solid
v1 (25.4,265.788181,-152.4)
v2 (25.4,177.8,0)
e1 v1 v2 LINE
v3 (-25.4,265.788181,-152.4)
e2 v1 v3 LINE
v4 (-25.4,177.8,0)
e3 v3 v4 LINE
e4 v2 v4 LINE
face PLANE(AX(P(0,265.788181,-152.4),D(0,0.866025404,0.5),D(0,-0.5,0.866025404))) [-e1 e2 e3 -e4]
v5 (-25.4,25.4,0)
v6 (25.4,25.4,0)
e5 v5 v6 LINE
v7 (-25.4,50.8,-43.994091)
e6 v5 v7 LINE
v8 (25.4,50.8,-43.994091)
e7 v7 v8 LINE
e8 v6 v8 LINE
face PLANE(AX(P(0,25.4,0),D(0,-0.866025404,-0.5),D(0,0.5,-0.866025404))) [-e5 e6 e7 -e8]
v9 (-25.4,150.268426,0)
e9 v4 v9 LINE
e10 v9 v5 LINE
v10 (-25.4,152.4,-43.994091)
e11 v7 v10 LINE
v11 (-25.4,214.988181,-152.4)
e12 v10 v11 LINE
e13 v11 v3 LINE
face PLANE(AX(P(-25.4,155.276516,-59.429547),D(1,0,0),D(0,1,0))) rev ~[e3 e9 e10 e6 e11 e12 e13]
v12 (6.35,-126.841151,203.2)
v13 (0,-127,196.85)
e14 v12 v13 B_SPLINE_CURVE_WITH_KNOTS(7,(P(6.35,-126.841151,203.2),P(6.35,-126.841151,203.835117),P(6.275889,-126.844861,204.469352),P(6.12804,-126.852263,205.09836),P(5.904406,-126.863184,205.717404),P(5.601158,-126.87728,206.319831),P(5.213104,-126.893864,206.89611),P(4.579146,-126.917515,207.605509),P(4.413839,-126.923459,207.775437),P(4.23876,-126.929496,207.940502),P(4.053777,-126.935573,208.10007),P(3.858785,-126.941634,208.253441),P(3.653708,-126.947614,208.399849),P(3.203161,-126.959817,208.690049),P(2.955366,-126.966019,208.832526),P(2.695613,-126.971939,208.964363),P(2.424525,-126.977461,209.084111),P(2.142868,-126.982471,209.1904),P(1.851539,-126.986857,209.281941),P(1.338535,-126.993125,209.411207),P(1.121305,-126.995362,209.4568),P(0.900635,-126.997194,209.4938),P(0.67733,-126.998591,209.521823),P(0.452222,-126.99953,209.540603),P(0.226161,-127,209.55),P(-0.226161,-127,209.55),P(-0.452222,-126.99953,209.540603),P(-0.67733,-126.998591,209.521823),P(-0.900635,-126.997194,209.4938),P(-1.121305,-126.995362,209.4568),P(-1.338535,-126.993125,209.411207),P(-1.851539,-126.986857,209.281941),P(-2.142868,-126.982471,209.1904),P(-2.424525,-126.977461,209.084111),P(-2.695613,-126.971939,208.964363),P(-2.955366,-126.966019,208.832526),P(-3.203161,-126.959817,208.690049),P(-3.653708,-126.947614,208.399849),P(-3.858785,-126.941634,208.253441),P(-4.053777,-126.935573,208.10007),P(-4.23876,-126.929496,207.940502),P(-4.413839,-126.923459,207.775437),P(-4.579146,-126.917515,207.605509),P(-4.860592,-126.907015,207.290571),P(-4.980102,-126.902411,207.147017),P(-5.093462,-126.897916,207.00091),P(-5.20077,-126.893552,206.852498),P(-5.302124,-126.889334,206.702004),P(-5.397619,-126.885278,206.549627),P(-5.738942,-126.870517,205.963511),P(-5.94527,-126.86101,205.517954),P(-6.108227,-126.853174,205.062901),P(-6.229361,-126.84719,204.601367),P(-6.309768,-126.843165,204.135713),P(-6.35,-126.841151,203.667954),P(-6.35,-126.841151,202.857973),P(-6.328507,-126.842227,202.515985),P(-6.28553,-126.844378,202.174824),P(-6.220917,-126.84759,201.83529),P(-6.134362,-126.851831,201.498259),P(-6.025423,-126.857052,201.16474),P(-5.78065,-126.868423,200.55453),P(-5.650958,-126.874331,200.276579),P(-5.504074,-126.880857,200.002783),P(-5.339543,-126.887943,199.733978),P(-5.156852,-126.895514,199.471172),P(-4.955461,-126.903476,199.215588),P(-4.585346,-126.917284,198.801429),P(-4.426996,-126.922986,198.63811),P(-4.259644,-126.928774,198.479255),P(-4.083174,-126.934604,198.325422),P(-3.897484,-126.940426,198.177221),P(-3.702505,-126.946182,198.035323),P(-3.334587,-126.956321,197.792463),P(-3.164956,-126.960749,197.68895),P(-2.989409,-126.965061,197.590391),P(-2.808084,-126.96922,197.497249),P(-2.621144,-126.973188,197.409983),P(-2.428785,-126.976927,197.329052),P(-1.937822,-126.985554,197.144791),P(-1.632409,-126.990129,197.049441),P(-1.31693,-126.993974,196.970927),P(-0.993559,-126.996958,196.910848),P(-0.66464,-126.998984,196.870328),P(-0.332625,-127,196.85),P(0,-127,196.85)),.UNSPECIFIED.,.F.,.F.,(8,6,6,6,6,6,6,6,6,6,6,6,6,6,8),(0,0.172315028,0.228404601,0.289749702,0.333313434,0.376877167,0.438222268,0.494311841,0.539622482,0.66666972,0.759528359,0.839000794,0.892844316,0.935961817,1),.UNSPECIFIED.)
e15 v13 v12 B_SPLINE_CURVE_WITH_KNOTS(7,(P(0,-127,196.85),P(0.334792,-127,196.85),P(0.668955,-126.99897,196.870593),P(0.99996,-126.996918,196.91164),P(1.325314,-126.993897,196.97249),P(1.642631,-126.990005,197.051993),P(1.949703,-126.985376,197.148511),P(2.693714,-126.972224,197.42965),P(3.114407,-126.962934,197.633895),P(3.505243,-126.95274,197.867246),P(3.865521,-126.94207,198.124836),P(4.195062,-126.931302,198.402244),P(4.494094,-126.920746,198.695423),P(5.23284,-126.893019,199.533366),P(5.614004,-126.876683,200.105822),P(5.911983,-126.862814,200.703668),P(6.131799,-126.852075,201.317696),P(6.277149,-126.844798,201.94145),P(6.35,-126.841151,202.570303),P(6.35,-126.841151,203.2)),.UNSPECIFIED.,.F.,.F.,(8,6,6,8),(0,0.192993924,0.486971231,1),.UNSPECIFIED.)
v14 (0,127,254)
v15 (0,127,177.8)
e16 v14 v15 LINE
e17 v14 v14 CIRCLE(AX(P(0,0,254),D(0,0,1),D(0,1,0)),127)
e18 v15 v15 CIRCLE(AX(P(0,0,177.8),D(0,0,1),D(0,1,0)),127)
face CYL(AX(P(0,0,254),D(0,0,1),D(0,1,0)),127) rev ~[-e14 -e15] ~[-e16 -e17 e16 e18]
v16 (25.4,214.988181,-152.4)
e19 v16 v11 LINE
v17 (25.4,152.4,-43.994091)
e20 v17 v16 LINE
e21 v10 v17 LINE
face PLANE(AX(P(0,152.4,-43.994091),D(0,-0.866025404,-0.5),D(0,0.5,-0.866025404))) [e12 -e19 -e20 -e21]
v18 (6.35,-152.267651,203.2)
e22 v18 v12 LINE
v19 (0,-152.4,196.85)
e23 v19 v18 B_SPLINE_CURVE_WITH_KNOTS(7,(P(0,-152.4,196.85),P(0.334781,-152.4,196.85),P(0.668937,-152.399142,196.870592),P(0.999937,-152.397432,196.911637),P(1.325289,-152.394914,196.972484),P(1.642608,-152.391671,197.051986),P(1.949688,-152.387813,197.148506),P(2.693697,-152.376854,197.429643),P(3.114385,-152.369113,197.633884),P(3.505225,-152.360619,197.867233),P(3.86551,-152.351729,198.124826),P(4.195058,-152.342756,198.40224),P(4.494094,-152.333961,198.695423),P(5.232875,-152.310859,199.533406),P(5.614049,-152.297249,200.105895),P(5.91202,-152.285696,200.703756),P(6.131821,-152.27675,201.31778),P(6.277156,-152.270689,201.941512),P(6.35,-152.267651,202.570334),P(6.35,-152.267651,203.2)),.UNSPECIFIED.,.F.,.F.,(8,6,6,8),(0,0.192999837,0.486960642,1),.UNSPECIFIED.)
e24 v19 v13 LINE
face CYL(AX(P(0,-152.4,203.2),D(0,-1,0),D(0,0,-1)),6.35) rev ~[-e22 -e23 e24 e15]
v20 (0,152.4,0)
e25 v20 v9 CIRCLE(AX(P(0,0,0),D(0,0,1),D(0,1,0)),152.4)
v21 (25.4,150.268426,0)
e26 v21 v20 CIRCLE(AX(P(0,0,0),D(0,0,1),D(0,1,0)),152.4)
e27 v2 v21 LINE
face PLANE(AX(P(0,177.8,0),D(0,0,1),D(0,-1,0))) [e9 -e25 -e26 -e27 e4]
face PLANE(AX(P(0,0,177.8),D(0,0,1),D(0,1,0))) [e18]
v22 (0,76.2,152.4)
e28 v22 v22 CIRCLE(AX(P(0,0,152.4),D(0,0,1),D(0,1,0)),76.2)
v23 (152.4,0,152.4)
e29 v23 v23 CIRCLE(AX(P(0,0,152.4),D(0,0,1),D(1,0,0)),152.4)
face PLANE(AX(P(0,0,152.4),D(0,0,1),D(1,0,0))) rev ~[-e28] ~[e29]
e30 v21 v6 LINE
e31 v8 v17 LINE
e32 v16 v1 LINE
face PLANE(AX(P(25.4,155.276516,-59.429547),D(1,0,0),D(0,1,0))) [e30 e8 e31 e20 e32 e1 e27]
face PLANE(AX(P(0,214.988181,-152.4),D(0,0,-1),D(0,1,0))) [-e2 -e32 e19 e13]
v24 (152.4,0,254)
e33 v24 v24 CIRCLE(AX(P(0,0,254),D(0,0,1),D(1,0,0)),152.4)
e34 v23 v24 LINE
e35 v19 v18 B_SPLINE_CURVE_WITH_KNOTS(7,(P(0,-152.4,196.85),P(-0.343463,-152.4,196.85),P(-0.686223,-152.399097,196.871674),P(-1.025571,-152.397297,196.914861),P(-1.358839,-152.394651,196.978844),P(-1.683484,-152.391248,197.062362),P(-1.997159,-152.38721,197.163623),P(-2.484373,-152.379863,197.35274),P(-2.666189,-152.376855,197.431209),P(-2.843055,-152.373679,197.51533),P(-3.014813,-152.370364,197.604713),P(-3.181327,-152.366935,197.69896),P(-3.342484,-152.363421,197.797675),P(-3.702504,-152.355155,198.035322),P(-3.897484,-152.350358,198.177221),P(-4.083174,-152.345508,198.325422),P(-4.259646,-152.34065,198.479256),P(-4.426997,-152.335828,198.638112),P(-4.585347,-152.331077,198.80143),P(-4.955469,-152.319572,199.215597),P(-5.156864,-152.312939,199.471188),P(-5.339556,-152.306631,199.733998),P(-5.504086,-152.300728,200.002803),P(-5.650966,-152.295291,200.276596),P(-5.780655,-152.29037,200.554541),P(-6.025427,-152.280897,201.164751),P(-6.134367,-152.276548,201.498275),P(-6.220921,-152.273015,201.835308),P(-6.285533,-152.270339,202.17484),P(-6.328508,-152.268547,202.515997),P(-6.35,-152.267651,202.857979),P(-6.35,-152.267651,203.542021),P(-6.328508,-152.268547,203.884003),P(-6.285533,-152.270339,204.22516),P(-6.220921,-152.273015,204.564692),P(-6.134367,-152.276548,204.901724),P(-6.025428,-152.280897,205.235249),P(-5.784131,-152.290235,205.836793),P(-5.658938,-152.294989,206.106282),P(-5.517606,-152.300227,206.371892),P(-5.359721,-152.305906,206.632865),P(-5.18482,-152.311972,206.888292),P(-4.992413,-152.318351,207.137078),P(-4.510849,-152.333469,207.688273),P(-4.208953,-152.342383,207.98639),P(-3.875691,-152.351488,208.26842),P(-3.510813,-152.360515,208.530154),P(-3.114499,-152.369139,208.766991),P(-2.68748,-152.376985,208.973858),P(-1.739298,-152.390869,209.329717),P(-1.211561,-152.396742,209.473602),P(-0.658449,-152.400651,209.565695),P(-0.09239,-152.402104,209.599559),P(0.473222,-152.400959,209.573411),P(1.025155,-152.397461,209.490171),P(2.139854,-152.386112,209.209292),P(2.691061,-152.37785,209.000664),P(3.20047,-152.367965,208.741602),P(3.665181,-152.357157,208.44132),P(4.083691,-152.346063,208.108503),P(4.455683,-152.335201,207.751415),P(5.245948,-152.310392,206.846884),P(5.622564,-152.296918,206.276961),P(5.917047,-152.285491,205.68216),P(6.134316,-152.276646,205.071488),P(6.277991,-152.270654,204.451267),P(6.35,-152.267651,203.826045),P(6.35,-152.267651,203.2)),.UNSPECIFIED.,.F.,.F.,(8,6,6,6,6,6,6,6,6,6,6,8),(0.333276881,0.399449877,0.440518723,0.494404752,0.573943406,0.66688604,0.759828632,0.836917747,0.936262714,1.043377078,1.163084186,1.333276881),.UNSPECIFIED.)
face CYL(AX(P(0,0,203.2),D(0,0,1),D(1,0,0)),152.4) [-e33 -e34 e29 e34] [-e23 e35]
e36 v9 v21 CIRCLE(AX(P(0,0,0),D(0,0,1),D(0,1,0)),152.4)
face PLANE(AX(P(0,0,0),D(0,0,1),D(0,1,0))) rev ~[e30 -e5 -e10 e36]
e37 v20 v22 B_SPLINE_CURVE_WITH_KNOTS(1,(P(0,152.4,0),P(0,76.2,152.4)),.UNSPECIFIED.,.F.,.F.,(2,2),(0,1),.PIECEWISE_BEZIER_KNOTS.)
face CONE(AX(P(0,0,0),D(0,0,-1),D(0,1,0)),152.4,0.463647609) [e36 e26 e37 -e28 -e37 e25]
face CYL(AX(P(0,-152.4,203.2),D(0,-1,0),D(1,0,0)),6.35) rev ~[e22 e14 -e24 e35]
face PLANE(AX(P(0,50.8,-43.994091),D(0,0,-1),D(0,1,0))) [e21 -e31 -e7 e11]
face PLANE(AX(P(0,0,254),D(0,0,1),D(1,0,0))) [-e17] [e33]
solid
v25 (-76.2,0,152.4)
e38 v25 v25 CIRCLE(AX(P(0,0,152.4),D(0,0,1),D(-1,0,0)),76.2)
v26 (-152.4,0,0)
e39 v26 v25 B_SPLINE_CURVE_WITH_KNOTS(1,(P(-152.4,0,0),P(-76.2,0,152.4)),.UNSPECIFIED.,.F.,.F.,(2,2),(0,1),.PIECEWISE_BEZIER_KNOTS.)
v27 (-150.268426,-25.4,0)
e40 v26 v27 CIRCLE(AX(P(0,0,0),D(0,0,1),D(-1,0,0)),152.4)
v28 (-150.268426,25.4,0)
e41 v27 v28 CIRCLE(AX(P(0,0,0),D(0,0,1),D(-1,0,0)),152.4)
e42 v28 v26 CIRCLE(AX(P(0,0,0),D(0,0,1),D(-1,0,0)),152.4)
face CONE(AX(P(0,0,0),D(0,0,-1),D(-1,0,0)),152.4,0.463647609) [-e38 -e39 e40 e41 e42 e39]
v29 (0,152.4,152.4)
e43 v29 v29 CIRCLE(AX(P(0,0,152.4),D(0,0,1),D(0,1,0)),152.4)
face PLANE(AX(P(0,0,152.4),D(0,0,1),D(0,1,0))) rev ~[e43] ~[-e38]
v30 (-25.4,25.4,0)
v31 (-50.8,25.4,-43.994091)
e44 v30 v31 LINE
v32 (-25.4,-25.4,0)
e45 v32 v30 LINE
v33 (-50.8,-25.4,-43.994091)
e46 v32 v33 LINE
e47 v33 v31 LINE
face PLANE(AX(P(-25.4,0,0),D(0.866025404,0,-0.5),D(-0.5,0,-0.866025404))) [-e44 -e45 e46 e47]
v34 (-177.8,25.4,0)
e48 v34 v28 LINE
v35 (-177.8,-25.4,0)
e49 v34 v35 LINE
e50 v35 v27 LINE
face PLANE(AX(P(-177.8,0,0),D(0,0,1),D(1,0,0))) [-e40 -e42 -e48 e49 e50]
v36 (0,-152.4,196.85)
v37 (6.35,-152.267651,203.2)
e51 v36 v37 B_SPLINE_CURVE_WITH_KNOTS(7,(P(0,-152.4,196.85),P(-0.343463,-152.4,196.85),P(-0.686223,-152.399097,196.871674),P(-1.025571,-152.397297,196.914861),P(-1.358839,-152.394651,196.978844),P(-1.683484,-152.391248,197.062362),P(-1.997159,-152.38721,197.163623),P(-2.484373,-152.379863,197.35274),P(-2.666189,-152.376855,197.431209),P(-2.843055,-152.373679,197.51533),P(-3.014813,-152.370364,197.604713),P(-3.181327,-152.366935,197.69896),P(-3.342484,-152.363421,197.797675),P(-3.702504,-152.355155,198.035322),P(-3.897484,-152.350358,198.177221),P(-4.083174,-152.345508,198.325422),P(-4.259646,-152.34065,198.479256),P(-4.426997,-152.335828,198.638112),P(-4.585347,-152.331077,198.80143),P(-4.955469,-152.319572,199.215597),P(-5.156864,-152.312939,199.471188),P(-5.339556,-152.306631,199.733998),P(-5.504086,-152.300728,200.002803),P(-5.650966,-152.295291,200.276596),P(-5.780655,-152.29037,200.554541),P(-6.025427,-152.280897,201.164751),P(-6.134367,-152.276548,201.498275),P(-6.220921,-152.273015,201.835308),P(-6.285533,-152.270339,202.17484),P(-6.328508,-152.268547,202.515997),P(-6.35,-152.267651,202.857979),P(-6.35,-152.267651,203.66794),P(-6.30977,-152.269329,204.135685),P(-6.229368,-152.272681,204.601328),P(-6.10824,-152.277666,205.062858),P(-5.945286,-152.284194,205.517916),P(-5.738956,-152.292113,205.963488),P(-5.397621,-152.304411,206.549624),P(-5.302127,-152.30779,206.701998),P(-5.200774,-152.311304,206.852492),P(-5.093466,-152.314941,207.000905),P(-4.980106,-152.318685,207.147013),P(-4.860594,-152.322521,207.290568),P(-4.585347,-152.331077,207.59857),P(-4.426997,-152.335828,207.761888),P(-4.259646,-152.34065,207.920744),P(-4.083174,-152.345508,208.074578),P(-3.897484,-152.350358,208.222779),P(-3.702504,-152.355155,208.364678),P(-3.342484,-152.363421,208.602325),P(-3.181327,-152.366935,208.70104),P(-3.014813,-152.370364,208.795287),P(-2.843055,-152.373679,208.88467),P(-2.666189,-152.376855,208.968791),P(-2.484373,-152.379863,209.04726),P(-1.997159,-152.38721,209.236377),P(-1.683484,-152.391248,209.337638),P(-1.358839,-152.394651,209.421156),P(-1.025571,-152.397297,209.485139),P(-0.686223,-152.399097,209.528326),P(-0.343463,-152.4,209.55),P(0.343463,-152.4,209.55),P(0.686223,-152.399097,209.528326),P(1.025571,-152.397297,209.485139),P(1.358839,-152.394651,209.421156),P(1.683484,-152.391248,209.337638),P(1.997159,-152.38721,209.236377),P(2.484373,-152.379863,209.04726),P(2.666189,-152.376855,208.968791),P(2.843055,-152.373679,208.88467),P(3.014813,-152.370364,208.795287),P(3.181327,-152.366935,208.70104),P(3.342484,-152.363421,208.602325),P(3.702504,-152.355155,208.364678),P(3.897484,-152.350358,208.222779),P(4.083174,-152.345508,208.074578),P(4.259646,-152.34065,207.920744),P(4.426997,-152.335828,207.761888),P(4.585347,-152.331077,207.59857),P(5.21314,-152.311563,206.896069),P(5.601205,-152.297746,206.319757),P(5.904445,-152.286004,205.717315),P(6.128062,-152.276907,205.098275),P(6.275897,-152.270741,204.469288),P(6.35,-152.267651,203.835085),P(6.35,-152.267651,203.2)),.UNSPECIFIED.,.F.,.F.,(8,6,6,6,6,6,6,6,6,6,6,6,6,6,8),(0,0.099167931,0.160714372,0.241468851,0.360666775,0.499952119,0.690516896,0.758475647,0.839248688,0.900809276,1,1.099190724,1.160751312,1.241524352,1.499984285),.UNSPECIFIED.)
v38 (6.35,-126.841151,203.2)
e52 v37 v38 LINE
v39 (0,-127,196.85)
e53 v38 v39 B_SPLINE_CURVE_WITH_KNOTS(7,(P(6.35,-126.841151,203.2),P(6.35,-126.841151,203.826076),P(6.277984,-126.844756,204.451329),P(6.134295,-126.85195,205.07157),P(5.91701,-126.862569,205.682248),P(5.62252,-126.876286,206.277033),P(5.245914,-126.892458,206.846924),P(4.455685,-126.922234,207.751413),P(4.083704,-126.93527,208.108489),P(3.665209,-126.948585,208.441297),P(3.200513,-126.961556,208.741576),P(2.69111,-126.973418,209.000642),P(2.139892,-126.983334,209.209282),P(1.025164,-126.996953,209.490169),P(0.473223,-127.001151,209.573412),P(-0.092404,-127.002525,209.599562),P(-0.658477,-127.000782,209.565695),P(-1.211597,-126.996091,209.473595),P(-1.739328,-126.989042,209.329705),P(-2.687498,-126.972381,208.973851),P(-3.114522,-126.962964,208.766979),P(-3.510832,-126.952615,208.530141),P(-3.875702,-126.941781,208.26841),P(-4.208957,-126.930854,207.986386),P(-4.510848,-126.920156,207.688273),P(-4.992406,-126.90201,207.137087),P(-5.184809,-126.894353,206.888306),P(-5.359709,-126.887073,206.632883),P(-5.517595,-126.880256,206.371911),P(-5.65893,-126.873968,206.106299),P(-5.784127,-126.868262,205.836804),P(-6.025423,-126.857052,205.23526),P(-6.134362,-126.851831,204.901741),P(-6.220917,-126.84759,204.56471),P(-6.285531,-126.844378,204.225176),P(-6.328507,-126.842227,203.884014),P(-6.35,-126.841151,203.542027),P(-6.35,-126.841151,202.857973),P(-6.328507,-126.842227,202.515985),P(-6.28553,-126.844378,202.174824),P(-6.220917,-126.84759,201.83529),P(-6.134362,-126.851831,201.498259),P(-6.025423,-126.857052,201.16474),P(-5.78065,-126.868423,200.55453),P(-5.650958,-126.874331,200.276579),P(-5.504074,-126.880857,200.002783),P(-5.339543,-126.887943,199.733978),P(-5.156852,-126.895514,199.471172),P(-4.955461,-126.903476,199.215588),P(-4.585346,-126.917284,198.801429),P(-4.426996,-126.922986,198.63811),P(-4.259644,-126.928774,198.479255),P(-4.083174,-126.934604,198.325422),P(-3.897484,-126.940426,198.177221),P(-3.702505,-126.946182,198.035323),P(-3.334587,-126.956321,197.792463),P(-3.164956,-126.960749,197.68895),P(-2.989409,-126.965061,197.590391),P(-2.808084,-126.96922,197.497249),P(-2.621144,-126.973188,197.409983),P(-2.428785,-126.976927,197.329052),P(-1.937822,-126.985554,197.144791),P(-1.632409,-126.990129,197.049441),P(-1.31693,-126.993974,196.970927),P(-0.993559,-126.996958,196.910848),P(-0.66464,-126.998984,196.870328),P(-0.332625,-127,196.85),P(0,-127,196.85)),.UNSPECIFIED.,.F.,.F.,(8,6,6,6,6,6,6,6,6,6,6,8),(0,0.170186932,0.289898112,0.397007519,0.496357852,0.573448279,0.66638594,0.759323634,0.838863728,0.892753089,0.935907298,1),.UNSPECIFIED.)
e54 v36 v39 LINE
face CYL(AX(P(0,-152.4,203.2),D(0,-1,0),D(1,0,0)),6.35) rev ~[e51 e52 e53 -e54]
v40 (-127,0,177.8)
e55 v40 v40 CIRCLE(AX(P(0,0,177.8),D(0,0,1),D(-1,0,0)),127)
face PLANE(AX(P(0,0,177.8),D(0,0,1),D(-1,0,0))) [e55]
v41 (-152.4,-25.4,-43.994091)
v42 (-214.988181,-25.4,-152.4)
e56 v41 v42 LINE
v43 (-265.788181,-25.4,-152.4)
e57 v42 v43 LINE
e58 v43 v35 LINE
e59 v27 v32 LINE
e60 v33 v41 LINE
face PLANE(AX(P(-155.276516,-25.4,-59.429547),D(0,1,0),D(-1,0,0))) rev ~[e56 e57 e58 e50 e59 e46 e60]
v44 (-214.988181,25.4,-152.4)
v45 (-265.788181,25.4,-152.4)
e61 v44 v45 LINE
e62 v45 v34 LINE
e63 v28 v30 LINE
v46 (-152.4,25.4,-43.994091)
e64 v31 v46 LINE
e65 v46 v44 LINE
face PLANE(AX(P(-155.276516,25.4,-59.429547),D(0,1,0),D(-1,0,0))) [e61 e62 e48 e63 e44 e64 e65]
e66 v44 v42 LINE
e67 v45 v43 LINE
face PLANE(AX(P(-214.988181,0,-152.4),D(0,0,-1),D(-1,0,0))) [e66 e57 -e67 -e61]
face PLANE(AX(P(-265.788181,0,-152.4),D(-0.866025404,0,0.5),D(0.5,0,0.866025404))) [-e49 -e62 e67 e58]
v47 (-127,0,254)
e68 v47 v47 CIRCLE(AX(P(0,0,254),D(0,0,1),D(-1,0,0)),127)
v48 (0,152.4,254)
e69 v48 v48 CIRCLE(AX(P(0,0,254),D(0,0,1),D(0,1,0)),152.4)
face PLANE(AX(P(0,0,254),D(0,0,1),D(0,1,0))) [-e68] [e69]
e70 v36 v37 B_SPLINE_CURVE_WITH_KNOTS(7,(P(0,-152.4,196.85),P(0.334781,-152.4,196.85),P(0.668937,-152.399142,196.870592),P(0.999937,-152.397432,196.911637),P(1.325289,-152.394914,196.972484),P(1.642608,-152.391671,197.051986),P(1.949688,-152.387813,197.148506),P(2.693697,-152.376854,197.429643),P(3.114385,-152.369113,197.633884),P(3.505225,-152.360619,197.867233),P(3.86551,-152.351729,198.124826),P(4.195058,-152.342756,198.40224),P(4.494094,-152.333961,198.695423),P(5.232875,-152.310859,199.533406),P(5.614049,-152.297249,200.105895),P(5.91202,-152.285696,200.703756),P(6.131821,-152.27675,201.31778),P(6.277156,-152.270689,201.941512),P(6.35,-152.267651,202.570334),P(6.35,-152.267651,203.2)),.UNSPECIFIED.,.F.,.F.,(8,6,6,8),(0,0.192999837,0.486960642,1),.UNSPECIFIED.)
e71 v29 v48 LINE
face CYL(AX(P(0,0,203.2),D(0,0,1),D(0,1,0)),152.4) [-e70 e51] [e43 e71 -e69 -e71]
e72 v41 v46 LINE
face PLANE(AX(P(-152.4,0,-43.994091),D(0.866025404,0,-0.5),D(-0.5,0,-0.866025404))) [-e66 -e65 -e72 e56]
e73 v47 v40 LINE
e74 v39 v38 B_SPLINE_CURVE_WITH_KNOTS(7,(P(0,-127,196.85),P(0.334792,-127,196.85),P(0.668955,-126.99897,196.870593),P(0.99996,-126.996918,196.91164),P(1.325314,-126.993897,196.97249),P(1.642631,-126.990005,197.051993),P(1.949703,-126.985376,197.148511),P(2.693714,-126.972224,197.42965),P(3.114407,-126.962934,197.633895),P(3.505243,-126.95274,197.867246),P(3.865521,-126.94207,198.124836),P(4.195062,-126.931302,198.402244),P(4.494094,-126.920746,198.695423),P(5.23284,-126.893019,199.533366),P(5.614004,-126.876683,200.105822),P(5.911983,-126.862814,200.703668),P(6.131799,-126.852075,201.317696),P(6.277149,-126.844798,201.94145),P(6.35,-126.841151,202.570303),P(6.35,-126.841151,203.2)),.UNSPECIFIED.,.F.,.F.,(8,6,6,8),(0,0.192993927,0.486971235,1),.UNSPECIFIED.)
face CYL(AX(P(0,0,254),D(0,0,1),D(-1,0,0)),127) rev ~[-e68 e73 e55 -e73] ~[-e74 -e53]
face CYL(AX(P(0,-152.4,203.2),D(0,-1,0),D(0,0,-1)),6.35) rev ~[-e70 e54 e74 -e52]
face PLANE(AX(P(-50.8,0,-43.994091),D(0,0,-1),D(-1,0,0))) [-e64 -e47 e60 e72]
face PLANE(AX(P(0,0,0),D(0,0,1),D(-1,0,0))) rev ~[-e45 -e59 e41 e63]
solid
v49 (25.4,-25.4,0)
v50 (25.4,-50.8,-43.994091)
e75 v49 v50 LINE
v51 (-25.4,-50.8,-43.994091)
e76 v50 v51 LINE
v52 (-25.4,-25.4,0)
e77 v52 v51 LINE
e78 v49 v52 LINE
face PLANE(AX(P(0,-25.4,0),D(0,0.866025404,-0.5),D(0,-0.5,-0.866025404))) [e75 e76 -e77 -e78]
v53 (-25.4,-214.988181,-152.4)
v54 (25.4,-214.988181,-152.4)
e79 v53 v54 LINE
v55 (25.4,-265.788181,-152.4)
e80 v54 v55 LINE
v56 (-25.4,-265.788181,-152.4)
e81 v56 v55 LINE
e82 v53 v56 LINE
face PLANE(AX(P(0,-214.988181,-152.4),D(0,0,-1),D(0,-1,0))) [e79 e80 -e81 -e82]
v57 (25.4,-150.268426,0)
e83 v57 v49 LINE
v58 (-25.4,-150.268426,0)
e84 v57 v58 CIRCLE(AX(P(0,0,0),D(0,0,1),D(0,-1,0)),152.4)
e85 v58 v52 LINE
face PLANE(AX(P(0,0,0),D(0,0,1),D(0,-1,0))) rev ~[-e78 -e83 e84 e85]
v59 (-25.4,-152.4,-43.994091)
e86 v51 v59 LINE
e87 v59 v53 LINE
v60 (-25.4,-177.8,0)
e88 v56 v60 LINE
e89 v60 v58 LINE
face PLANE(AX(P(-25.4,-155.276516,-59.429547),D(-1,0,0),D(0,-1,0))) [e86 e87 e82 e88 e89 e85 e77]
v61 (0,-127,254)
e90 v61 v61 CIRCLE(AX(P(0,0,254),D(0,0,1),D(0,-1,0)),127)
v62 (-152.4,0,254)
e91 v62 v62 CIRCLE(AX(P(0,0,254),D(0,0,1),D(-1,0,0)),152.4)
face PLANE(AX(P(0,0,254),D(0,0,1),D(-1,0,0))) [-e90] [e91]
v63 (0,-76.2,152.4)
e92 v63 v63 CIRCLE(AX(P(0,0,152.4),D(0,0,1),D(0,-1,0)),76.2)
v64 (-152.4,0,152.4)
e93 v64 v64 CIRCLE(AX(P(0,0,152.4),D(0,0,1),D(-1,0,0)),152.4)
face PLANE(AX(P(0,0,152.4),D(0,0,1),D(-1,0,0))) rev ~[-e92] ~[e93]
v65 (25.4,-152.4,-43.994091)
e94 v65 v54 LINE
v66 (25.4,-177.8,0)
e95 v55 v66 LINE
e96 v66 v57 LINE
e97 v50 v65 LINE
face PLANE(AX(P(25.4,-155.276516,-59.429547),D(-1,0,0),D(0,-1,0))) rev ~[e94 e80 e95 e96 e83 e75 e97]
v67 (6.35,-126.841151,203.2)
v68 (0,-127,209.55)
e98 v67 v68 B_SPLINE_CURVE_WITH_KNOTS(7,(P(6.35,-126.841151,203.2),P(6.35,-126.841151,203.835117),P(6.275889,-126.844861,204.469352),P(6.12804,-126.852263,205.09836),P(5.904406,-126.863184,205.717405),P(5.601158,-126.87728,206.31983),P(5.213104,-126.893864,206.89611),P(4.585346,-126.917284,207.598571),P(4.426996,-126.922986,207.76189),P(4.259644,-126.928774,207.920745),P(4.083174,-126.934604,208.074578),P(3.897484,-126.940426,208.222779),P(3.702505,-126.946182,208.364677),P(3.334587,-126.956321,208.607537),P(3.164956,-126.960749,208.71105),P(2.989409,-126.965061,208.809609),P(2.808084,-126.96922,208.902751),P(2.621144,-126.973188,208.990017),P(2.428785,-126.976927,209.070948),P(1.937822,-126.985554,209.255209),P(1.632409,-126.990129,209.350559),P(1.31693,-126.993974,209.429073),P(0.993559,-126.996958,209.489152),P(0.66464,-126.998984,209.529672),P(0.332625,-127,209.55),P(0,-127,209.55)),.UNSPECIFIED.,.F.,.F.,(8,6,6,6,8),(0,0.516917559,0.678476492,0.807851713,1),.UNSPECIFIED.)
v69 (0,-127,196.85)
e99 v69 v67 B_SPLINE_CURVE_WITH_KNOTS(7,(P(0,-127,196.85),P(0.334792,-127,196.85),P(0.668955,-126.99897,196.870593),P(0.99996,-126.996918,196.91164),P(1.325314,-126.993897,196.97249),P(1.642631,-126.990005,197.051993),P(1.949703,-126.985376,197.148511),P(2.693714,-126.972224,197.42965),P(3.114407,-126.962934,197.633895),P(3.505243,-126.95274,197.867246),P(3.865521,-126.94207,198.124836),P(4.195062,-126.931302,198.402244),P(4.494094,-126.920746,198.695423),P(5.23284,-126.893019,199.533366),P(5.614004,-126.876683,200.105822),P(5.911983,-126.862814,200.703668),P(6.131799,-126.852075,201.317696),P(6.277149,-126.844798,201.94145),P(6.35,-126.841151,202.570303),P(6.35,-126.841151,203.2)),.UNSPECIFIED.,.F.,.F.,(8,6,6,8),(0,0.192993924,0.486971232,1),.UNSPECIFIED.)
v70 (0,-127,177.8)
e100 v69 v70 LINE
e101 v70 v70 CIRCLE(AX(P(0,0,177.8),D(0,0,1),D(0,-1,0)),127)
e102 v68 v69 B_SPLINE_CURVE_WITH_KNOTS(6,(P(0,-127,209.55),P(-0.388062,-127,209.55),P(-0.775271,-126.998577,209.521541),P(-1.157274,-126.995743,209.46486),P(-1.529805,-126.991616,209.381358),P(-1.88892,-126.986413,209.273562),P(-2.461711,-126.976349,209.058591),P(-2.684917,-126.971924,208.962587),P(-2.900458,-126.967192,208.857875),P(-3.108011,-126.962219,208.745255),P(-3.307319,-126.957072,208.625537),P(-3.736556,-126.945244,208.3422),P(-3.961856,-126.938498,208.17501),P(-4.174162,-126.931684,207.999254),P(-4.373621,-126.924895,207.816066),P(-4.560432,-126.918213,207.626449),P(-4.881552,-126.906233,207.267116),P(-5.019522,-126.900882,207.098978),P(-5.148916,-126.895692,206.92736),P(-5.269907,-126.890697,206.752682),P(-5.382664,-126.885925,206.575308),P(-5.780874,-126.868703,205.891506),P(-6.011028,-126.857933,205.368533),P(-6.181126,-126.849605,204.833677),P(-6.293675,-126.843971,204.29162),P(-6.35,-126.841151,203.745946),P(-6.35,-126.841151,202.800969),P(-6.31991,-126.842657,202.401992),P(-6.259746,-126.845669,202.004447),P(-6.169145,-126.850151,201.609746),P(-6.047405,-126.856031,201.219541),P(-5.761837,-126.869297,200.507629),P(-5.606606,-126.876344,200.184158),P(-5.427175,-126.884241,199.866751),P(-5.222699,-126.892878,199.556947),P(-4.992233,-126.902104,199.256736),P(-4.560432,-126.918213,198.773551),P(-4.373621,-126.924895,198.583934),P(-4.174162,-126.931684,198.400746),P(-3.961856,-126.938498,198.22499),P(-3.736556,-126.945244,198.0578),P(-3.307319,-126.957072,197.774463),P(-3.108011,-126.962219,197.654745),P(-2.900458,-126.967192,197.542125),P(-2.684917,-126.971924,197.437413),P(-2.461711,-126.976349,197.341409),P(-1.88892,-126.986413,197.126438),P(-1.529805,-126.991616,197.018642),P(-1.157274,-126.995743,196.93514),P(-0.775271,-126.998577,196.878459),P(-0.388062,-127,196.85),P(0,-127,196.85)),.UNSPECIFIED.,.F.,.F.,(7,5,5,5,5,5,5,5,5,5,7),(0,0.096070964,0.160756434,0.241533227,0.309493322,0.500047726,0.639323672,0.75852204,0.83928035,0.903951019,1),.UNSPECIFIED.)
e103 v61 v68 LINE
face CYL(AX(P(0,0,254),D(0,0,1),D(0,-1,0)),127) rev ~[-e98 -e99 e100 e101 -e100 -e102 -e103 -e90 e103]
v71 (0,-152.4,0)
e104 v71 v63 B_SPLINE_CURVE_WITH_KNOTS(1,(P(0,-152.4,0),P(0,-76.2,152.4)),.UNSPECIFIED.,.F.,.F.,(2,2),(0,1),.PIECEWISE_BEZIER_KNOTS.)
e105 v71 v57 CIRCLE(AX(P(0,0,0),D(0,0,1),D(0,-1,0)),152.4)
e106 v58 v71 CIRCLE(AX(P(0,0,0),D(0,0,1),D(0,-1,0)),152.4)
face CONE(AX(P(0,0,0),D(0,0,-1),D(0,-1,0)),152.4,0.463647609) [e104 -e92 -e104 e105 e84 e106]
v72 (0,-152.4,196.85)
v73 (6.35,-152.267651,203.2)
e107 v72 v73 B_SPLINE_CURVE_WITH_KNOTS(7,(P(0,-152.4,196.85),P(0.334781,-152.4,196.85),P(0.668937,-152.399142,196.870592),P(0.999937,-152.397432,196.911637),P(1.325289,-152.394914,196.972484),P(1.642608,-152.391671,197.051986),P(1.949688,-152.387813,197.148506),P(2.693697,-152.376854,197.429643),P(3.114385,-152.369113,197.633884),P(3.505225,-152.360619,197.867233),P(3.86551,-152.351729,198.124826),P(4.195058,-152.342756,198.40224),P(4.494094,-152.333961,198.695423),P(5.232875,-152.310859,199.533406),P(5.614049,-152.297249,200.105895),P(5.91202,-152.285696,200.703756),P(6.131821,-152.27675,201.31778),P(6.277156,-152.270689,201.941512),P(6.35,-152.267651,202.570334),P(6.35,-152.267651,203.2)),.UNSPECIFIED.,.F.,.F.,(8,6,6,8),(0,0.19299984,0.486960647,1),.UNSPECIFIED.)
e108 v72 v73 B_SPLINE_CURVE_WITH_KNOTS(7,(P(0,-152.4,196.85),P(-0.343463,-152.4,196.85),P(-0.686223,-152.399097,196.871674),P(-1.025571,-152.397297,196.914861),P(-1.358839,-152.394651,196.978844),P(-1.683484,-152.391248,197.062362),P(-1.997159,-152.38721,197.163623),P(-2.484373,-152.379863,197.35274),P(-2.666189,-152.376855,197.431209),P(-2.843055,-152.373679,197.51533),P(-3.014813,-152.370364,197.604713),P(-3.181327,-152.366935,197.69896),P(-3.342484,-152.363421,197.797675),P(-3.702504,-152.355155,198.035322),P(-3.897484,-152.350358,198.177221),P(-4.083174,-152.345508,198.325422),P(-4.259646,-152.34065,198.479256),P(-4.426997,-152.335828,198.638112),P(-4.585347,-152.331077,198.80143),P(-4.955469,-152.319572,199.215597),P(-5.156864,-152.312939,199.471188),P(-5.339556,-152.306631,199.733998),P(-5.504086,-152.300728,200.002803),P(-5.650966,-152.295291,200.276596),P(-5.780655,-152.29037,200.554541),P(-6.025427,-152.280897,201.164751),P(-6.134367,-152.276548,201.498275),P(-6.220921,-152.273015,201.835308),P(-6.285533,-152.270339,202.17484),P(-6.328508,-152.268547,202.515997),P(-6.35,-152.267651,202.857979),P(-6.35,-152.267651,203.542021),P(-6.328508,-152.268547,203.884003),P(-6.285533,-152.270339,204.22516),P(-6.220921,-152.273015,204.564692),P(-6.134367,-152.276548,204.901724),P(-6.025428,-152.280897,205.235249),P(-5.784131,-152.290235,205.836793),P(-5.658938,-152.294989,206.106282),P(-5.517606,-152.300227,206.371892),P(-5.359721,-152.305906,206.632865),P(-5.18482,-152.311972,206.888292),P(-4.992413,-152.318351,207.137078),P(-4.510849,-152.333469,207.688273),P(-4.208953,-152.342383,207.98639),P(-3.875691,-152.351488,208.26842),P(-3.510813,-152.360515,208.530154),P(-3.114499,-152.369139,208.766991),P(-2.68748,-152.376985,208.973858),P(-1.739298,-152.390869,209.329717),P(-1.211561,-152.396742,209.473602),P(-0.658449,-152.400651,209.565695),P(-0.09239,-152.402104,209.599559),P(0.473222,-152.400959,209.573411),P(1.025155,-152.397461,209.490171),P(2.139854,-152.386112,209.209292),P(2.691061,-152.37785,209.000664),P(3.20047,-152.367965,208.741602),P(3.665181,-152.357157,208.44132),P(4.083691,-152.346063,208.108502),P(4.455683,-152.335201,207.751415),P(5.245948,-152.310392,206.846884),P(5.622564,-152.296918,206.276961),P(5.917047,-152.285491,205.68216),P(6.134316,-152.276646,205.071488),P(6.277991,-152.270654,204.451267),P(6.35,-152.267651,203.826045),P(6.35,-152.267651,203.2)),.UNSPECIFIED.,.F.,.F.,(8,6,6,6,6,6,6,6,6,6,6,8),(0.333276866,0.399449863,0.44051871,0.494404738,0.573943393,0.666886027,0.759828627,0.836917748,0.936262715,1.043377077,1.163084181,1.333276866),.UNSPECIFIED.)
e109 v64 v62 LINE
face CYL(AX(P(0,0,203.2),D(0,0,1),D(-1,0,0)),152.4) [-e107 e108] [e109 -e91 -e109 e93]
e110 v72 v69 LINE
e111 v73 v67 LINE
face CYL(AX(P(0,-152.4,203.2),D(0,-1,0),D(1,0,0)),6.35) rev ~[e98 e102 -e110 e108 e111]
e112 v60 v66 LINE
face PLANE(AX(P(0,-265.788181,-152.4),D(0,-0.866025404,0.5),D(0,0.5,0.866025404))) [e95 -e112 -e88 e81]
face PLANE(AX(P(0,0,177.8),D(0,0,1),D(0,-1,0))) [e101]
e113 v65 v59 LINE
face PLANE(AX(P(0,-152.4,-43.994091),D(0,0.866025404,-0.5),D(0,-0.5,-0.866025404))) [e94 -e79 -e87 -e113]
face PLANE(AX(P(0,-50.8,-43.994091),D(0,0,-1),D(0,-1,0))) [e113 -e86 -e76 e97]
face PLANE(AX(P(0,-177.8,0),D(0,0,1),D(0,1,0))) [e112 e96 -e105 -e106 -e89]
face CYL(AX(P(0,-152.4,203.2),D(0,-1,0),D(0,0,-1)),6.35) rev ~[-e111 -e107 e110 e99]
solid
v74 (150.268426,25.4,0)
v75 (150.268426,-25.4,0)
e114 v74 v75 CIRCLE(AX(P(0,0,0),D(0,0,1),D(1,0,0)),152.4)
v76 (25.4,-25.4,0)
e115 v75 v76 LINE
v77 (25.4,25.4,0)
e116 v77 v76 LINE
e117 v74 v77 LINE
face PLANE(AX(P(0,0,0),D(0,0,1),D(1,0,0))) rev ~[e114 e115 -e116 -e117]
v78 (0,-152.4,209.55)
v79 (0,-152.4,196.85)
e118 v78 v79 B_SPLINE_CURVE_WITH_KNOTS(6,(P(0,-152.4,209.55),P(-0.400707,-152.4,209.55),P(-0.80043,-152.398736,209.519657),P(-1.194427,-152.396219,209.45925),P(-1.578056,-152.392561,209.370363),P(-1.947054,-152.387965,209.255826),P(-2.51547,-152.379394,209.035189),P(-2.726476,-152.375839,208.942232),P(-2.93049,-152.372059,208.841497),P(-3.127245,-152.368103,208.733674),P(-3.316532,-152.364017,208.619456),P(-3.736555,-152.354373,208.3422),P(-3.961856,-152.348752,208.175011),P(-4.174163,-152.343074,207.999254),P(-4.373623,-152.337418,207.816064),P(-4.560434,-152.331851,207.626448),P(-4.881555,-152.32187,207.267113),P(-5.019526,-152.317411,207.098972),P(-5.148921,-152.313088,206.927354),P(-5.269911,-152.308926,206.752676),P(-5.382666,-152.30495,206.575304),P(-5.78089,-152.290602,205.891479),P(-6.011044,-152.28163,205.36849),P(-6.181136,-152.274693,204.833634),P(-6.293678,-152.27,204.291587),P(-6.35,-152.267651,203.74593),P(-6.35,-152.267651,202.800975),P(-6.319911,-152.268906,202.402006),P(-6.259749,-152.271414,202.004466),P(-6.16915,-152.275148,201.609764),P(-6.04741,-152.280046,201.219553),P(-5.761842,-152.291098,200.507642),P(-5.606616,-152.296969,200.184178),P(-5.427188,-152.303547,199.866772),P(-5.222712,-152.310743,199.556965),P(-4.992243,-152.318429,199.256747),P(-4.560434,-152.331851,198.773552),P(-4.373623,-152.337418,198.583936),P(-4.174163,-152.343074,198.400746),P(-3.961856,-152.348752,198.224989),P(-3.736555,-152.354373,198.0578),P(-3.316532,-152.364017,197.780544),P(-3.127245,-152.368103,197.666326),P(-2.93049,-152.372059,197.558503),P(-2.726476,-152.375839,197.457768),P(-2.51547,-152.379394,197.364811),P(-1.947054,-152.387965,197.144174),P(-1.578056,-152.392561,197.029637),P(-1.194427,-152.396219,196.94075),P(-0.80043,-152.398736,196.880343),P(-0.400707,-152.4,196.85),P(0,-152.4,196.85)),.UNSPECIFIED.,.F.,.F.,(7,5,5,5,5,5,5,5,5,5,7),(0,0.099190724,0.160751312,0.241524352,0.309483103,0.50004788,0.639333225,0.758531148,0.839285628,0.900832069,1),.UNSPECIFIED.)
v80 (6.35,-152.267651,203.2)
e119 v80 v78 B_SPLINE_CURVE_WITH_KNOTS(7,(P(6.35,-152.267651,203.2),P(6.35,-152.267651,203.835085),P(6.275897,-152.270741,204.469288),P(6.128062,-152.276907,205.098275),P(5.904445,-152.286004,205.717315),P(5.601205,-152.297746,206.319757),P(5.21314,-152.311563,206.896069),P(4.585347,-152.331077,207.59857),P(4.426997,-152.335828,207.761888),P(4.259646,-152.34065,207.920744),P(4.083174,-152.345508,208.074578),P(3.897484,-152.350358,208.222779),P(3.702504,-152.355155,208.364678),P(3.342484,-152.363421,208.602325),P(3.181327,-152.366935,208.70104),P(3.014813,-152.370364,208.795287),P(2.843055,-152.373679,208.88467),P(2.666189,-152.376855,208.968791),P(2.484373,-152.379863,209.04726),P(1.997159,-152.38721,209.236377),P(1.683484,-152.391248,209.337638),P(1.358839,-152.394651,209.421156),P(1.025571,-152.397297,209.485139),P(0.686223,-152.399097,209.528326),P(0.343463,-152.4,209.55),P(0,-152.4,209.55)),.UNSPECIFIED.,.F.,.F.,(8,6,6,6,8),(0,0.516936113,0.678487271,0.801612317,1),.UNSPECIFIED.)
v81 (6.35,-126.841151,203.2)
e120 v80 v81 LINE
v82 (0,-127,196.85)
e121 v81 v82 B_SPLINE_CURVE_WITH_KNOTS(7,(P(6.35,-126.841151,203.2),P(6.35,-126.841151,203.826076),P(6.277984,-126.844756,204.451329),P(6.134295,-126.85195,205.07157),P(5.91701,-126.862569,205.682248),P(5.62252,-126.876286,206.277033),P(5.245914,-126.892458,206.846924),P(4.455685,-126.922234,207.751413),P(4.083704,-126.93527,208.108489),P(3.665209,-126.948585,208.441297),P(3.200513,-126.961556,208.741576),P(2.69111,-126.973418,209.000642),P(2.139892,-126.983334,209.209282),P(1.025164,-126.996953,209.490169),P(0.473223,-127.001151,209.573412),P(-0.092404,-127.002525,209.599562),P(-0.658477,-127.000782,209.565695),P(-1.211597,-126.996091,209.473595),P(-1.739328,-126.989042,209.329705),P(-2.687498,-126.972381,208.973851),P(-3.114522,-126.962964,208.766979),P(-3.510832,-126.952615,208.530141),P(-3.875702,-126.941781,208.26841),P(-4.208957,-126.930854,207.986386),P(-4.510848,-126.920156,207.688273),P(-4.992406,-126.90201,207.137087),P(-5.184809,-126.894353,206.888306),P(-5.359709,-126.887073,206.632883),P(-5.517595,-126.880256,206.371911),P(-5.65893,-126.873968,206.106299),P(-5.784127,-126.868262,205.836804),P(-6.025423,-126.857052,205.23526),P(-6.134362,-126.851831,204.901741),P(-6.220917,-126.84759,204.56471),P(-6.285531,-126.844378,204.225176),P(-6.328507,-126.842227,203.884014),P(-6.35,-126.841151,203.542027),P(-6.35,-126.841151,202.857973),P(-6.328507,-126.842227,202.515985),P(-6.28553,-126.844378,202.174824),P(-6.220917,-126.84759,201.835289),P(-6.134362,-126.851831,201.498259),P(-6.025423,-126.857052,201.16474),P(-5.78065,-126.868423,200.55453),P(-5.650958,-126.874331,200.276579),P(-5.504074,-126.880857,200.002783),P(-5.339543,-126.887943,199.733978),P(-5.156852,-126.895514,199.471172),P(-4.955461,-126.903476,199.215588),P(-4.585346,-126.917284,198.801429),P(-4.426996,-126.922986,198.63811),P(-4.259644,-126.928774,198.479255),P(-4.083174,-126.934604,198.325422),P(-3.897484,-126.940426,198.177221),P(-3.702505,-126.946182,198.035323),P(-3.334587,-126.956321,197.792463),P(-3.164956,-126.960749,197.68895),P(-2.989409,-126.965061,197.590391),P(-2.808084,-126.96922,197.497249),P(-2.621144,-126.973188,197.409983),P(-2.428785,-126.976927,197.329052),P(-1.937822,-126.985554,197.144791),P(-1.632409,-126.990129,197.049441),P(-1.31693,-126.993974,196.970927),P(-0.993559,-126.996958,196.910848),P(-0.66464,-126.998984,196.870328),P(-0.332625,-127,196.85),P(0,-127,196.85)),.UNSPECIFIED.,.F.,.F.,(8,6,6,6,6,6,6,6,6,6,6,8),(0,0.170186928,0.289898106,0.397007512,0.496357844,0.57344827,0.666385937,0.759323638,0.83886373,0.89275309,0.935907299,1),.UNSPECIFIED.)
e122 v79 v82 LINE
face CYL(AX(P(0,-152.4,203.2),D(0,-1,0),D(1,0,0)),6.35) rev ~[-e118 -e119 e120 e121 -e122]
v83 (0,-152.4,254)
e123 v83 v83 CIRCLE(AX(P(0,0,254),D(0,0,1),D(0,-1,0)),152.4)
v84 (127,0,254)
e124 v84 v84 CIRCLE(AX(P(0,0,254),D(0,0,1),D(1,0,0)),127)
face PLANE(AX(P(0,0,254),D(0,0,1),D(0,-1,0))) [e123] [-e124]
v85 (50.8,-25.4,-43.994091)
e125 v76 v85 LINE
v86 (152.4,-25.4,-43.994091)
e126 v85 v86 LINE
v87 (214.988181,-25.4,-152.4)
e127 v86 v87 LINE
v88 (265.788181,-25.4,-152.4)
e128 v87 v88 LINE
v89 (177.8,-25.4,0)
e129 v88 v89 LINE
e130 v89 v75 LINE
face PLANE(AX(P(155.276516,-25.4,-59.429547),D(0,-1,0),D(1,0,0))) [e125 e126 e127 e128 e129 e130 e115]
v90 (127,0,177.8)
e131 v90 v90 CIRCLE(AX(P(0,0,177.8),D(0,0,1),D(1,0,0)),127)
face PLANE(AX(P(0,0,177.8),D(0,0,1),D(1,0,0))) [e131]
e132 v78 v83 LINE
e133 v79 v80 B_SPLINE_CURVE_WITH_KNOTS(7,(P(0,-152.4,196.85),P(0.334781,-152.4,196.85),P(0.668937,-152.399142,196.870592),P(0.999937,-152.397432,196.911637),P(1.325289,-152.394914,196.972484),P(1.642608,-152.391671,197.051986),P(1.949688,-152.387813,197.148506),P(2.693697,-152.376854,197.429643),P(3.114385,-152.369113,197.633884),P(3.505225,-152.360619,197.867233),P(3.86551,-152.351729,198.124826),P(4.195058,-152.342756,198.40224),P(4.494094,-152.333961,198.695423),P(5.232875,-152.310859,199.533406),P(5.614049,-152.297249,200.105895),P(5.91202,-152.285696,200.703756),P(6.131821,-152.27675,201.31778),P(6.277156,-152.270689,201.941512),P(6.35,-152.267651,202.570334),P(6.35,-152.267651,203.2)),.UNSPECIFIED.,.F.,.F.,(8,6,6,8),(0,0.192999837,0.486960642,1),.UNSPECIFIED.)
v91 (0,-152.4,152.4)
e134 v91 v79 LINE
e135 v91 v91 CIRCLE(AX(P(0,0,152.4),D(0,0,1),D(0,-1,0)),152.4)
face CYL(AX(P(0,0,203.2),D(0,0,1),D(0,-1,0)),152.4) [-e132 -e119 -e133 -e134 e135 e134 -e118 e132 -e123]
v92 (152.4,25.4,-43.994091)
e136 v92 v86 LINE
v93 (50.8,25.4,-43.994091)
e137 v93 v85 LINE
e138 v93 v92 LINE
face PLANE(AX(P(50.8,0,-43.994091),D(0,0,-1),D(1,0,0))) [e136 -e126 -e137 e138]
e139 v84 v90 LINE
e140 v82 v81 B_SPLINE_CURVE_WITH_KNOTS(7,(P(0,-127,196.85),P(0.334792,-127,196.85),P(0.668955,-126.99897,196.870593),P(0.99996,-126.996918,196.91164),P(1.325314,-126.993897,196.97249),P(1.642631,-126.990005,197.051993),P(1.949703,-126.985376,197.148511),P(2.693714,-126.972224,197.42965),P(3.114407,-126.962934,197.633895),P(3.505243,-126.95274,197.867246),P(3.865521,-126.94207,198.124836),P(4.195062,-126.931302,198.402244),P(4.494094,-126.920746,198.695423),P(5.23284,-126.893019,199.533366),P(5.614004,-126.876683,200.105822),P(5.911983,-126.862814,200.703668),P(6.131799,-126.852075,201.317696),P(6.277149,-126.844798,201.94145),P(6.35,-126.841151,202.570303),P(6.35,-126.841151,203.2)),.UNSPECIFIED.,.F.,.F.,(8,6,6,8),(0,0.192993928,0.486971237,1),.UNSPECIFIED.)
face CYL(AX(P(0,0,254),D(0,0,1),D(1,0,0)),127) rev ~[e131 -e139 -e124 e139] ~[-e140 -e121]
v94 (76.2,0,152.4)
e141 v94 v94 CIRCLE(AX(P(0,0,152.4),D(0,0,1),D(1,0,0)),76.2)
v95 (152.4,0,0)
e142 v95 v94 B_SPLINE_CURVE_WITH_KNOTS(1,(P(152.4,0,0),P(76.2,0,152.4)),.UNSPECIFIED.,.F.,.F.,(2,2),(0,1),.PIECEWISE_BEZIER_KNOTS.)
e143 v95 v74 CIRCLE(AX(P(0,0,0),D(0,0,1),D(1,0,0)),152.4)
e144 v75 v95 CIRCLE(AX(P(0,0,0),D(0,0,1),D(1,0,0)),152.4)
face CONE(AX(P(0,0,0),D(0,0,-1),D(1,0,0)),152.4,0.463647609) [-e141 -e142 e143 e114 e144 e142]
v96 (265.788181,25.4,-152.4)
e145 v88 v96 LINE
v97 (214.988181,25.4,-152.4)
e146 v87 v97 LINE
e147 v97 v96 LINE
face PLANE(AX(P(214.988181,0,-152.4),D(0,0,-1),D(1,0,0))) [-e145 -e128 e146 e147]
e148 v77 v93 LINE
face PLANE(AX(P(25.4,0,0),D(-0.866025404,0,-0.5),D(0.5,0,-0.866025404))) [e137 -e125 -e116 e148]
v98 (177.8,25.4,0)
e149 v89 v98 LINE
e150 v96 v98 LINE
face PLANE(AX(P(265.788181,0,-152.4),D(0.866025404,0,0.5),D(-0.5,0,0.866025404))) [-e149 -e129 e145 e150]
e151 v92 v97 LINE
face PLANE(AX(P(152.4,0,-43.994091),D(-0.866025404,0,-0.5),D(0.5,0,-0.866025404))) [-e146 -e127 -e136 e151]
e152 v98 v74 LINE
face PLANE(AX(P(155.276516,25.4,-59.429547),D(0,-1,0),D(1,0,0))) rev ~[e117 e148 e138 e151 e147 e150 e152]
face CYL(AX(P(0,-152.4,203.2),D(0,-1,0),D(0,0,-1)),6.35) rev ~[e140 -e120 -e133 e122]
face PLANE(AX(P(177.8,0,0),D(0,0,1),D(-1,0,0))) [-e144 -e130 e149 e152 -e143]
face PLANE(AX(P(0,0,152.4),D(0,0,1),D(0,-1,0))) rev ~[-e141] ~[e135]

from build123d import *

# Parameters (mm, degrees)
F0_R      = 152.4
F2_R      = 76.2
F5_W      = 152.4
F5_H      = 101.6
F7_R      = 127
F8_DEPTH  = 76.2
F10_DEPTH = 25.4
F11_COUNT = 4
F14_DEPTH = 50.8


with BuildPart() as f3:
    # F0 (on Top) → F3 section 0
    with BuildSketch(Plane.XY):
        Circle(F0_R)
    # F2 (on offset) → F3 section 1
    with BuildSketch(Plane.XY.offset(152.4)):
        Circle(F2_R)
    loft()

    # F5 (on Right) → F6 (revolve)
    with BuildSketch(Plane.YZ):
        with Locations((-76.2, 203.2)):
            Rectangle(F5_W, F5_H)
    revolve(axis=Axis((0, 0, 203.2), (0, 0, 1)))

    # F7 (on face) → F8 (cut)
    with BuildSketch(Plane.XY.offset(254)):
        Circle(F7_R)
    extrude(amount=-F8_DEPTH, mode=Mode.SUBTRACT)

    # F9 (on Front) → F10 (join, symmetric)
    with BuildSketch(Plane.XZ):
        Polygon((177.8, 0), (25.4, 0), (50.8, -43.9940905122), (152.4, -43.9940905122), (214.9881810245, -152.4), (265.7881810245, -152.4), align=None)
    extrude(amount=F10_DEPTH, both=True)


with BuildPart() as f11_1:
    # F11: instance of F3
    add(f3.part.rotate(Axis((0, 0, 0), (0, 0, 1)), 1 * 360 / F11_COUNT))


with BuildPart() as f11_2:
    # F11: instance of F3
    add(f3.part.rotate(Axis((0, 0, 0), (0, 0, 1)), 2 * 360 / F11_COUNT))


with BuildPart() as f11_3:
    # F11: instance of F3
    add(f3.part.rotate(Axis((0, 0, 0), (0, 0, 1)), 3 * 360 / F11_COUNT))


with BuildPart() as f14_tool:
    # F13 (on offset) → F14 (new body)
    with BuildSketch(Plane.XZ.offset(152.4)):
        with BuildLine():
            ThreePointArc((0, 196.85), (4.4901280605, 198.7098719395), (6.35, 203.2))
            ThreePointArc((6.35, 203.2), (-4.4901280605, 207.6901280605), (0, 196.85))
        make_face()
    extrude(amount=-F14_DEPTH)


with BuildPart() as f3_1:
    add(f3.part)

    # F14: cut by f14_tool
    add(f14_tool.part, mode=Mode.SUBTRACT)


with BuildPart() as f11_1_1:
    add(f11_1.part)

    # F14: cut by f14_tool
    add(f14_tool.part, mode=Mode.SUBTRACT)


with BuildPart() as f11_2_1:
    add(f11_2.part)

    # F14: cut by f14_tool
    add(f14_tool.part, mode=Mode.SUBTRACT)


with BuildPart() as f11_3_1:
    add(f11_3.part)

    # F14: cut by f14_tool
    add(f14_tool.part, mode=Mode.SUBTRACT)


solid = Compound([f3_1.part, f11_1_1.part, f11_2_1.part, f11_3_1.part])
